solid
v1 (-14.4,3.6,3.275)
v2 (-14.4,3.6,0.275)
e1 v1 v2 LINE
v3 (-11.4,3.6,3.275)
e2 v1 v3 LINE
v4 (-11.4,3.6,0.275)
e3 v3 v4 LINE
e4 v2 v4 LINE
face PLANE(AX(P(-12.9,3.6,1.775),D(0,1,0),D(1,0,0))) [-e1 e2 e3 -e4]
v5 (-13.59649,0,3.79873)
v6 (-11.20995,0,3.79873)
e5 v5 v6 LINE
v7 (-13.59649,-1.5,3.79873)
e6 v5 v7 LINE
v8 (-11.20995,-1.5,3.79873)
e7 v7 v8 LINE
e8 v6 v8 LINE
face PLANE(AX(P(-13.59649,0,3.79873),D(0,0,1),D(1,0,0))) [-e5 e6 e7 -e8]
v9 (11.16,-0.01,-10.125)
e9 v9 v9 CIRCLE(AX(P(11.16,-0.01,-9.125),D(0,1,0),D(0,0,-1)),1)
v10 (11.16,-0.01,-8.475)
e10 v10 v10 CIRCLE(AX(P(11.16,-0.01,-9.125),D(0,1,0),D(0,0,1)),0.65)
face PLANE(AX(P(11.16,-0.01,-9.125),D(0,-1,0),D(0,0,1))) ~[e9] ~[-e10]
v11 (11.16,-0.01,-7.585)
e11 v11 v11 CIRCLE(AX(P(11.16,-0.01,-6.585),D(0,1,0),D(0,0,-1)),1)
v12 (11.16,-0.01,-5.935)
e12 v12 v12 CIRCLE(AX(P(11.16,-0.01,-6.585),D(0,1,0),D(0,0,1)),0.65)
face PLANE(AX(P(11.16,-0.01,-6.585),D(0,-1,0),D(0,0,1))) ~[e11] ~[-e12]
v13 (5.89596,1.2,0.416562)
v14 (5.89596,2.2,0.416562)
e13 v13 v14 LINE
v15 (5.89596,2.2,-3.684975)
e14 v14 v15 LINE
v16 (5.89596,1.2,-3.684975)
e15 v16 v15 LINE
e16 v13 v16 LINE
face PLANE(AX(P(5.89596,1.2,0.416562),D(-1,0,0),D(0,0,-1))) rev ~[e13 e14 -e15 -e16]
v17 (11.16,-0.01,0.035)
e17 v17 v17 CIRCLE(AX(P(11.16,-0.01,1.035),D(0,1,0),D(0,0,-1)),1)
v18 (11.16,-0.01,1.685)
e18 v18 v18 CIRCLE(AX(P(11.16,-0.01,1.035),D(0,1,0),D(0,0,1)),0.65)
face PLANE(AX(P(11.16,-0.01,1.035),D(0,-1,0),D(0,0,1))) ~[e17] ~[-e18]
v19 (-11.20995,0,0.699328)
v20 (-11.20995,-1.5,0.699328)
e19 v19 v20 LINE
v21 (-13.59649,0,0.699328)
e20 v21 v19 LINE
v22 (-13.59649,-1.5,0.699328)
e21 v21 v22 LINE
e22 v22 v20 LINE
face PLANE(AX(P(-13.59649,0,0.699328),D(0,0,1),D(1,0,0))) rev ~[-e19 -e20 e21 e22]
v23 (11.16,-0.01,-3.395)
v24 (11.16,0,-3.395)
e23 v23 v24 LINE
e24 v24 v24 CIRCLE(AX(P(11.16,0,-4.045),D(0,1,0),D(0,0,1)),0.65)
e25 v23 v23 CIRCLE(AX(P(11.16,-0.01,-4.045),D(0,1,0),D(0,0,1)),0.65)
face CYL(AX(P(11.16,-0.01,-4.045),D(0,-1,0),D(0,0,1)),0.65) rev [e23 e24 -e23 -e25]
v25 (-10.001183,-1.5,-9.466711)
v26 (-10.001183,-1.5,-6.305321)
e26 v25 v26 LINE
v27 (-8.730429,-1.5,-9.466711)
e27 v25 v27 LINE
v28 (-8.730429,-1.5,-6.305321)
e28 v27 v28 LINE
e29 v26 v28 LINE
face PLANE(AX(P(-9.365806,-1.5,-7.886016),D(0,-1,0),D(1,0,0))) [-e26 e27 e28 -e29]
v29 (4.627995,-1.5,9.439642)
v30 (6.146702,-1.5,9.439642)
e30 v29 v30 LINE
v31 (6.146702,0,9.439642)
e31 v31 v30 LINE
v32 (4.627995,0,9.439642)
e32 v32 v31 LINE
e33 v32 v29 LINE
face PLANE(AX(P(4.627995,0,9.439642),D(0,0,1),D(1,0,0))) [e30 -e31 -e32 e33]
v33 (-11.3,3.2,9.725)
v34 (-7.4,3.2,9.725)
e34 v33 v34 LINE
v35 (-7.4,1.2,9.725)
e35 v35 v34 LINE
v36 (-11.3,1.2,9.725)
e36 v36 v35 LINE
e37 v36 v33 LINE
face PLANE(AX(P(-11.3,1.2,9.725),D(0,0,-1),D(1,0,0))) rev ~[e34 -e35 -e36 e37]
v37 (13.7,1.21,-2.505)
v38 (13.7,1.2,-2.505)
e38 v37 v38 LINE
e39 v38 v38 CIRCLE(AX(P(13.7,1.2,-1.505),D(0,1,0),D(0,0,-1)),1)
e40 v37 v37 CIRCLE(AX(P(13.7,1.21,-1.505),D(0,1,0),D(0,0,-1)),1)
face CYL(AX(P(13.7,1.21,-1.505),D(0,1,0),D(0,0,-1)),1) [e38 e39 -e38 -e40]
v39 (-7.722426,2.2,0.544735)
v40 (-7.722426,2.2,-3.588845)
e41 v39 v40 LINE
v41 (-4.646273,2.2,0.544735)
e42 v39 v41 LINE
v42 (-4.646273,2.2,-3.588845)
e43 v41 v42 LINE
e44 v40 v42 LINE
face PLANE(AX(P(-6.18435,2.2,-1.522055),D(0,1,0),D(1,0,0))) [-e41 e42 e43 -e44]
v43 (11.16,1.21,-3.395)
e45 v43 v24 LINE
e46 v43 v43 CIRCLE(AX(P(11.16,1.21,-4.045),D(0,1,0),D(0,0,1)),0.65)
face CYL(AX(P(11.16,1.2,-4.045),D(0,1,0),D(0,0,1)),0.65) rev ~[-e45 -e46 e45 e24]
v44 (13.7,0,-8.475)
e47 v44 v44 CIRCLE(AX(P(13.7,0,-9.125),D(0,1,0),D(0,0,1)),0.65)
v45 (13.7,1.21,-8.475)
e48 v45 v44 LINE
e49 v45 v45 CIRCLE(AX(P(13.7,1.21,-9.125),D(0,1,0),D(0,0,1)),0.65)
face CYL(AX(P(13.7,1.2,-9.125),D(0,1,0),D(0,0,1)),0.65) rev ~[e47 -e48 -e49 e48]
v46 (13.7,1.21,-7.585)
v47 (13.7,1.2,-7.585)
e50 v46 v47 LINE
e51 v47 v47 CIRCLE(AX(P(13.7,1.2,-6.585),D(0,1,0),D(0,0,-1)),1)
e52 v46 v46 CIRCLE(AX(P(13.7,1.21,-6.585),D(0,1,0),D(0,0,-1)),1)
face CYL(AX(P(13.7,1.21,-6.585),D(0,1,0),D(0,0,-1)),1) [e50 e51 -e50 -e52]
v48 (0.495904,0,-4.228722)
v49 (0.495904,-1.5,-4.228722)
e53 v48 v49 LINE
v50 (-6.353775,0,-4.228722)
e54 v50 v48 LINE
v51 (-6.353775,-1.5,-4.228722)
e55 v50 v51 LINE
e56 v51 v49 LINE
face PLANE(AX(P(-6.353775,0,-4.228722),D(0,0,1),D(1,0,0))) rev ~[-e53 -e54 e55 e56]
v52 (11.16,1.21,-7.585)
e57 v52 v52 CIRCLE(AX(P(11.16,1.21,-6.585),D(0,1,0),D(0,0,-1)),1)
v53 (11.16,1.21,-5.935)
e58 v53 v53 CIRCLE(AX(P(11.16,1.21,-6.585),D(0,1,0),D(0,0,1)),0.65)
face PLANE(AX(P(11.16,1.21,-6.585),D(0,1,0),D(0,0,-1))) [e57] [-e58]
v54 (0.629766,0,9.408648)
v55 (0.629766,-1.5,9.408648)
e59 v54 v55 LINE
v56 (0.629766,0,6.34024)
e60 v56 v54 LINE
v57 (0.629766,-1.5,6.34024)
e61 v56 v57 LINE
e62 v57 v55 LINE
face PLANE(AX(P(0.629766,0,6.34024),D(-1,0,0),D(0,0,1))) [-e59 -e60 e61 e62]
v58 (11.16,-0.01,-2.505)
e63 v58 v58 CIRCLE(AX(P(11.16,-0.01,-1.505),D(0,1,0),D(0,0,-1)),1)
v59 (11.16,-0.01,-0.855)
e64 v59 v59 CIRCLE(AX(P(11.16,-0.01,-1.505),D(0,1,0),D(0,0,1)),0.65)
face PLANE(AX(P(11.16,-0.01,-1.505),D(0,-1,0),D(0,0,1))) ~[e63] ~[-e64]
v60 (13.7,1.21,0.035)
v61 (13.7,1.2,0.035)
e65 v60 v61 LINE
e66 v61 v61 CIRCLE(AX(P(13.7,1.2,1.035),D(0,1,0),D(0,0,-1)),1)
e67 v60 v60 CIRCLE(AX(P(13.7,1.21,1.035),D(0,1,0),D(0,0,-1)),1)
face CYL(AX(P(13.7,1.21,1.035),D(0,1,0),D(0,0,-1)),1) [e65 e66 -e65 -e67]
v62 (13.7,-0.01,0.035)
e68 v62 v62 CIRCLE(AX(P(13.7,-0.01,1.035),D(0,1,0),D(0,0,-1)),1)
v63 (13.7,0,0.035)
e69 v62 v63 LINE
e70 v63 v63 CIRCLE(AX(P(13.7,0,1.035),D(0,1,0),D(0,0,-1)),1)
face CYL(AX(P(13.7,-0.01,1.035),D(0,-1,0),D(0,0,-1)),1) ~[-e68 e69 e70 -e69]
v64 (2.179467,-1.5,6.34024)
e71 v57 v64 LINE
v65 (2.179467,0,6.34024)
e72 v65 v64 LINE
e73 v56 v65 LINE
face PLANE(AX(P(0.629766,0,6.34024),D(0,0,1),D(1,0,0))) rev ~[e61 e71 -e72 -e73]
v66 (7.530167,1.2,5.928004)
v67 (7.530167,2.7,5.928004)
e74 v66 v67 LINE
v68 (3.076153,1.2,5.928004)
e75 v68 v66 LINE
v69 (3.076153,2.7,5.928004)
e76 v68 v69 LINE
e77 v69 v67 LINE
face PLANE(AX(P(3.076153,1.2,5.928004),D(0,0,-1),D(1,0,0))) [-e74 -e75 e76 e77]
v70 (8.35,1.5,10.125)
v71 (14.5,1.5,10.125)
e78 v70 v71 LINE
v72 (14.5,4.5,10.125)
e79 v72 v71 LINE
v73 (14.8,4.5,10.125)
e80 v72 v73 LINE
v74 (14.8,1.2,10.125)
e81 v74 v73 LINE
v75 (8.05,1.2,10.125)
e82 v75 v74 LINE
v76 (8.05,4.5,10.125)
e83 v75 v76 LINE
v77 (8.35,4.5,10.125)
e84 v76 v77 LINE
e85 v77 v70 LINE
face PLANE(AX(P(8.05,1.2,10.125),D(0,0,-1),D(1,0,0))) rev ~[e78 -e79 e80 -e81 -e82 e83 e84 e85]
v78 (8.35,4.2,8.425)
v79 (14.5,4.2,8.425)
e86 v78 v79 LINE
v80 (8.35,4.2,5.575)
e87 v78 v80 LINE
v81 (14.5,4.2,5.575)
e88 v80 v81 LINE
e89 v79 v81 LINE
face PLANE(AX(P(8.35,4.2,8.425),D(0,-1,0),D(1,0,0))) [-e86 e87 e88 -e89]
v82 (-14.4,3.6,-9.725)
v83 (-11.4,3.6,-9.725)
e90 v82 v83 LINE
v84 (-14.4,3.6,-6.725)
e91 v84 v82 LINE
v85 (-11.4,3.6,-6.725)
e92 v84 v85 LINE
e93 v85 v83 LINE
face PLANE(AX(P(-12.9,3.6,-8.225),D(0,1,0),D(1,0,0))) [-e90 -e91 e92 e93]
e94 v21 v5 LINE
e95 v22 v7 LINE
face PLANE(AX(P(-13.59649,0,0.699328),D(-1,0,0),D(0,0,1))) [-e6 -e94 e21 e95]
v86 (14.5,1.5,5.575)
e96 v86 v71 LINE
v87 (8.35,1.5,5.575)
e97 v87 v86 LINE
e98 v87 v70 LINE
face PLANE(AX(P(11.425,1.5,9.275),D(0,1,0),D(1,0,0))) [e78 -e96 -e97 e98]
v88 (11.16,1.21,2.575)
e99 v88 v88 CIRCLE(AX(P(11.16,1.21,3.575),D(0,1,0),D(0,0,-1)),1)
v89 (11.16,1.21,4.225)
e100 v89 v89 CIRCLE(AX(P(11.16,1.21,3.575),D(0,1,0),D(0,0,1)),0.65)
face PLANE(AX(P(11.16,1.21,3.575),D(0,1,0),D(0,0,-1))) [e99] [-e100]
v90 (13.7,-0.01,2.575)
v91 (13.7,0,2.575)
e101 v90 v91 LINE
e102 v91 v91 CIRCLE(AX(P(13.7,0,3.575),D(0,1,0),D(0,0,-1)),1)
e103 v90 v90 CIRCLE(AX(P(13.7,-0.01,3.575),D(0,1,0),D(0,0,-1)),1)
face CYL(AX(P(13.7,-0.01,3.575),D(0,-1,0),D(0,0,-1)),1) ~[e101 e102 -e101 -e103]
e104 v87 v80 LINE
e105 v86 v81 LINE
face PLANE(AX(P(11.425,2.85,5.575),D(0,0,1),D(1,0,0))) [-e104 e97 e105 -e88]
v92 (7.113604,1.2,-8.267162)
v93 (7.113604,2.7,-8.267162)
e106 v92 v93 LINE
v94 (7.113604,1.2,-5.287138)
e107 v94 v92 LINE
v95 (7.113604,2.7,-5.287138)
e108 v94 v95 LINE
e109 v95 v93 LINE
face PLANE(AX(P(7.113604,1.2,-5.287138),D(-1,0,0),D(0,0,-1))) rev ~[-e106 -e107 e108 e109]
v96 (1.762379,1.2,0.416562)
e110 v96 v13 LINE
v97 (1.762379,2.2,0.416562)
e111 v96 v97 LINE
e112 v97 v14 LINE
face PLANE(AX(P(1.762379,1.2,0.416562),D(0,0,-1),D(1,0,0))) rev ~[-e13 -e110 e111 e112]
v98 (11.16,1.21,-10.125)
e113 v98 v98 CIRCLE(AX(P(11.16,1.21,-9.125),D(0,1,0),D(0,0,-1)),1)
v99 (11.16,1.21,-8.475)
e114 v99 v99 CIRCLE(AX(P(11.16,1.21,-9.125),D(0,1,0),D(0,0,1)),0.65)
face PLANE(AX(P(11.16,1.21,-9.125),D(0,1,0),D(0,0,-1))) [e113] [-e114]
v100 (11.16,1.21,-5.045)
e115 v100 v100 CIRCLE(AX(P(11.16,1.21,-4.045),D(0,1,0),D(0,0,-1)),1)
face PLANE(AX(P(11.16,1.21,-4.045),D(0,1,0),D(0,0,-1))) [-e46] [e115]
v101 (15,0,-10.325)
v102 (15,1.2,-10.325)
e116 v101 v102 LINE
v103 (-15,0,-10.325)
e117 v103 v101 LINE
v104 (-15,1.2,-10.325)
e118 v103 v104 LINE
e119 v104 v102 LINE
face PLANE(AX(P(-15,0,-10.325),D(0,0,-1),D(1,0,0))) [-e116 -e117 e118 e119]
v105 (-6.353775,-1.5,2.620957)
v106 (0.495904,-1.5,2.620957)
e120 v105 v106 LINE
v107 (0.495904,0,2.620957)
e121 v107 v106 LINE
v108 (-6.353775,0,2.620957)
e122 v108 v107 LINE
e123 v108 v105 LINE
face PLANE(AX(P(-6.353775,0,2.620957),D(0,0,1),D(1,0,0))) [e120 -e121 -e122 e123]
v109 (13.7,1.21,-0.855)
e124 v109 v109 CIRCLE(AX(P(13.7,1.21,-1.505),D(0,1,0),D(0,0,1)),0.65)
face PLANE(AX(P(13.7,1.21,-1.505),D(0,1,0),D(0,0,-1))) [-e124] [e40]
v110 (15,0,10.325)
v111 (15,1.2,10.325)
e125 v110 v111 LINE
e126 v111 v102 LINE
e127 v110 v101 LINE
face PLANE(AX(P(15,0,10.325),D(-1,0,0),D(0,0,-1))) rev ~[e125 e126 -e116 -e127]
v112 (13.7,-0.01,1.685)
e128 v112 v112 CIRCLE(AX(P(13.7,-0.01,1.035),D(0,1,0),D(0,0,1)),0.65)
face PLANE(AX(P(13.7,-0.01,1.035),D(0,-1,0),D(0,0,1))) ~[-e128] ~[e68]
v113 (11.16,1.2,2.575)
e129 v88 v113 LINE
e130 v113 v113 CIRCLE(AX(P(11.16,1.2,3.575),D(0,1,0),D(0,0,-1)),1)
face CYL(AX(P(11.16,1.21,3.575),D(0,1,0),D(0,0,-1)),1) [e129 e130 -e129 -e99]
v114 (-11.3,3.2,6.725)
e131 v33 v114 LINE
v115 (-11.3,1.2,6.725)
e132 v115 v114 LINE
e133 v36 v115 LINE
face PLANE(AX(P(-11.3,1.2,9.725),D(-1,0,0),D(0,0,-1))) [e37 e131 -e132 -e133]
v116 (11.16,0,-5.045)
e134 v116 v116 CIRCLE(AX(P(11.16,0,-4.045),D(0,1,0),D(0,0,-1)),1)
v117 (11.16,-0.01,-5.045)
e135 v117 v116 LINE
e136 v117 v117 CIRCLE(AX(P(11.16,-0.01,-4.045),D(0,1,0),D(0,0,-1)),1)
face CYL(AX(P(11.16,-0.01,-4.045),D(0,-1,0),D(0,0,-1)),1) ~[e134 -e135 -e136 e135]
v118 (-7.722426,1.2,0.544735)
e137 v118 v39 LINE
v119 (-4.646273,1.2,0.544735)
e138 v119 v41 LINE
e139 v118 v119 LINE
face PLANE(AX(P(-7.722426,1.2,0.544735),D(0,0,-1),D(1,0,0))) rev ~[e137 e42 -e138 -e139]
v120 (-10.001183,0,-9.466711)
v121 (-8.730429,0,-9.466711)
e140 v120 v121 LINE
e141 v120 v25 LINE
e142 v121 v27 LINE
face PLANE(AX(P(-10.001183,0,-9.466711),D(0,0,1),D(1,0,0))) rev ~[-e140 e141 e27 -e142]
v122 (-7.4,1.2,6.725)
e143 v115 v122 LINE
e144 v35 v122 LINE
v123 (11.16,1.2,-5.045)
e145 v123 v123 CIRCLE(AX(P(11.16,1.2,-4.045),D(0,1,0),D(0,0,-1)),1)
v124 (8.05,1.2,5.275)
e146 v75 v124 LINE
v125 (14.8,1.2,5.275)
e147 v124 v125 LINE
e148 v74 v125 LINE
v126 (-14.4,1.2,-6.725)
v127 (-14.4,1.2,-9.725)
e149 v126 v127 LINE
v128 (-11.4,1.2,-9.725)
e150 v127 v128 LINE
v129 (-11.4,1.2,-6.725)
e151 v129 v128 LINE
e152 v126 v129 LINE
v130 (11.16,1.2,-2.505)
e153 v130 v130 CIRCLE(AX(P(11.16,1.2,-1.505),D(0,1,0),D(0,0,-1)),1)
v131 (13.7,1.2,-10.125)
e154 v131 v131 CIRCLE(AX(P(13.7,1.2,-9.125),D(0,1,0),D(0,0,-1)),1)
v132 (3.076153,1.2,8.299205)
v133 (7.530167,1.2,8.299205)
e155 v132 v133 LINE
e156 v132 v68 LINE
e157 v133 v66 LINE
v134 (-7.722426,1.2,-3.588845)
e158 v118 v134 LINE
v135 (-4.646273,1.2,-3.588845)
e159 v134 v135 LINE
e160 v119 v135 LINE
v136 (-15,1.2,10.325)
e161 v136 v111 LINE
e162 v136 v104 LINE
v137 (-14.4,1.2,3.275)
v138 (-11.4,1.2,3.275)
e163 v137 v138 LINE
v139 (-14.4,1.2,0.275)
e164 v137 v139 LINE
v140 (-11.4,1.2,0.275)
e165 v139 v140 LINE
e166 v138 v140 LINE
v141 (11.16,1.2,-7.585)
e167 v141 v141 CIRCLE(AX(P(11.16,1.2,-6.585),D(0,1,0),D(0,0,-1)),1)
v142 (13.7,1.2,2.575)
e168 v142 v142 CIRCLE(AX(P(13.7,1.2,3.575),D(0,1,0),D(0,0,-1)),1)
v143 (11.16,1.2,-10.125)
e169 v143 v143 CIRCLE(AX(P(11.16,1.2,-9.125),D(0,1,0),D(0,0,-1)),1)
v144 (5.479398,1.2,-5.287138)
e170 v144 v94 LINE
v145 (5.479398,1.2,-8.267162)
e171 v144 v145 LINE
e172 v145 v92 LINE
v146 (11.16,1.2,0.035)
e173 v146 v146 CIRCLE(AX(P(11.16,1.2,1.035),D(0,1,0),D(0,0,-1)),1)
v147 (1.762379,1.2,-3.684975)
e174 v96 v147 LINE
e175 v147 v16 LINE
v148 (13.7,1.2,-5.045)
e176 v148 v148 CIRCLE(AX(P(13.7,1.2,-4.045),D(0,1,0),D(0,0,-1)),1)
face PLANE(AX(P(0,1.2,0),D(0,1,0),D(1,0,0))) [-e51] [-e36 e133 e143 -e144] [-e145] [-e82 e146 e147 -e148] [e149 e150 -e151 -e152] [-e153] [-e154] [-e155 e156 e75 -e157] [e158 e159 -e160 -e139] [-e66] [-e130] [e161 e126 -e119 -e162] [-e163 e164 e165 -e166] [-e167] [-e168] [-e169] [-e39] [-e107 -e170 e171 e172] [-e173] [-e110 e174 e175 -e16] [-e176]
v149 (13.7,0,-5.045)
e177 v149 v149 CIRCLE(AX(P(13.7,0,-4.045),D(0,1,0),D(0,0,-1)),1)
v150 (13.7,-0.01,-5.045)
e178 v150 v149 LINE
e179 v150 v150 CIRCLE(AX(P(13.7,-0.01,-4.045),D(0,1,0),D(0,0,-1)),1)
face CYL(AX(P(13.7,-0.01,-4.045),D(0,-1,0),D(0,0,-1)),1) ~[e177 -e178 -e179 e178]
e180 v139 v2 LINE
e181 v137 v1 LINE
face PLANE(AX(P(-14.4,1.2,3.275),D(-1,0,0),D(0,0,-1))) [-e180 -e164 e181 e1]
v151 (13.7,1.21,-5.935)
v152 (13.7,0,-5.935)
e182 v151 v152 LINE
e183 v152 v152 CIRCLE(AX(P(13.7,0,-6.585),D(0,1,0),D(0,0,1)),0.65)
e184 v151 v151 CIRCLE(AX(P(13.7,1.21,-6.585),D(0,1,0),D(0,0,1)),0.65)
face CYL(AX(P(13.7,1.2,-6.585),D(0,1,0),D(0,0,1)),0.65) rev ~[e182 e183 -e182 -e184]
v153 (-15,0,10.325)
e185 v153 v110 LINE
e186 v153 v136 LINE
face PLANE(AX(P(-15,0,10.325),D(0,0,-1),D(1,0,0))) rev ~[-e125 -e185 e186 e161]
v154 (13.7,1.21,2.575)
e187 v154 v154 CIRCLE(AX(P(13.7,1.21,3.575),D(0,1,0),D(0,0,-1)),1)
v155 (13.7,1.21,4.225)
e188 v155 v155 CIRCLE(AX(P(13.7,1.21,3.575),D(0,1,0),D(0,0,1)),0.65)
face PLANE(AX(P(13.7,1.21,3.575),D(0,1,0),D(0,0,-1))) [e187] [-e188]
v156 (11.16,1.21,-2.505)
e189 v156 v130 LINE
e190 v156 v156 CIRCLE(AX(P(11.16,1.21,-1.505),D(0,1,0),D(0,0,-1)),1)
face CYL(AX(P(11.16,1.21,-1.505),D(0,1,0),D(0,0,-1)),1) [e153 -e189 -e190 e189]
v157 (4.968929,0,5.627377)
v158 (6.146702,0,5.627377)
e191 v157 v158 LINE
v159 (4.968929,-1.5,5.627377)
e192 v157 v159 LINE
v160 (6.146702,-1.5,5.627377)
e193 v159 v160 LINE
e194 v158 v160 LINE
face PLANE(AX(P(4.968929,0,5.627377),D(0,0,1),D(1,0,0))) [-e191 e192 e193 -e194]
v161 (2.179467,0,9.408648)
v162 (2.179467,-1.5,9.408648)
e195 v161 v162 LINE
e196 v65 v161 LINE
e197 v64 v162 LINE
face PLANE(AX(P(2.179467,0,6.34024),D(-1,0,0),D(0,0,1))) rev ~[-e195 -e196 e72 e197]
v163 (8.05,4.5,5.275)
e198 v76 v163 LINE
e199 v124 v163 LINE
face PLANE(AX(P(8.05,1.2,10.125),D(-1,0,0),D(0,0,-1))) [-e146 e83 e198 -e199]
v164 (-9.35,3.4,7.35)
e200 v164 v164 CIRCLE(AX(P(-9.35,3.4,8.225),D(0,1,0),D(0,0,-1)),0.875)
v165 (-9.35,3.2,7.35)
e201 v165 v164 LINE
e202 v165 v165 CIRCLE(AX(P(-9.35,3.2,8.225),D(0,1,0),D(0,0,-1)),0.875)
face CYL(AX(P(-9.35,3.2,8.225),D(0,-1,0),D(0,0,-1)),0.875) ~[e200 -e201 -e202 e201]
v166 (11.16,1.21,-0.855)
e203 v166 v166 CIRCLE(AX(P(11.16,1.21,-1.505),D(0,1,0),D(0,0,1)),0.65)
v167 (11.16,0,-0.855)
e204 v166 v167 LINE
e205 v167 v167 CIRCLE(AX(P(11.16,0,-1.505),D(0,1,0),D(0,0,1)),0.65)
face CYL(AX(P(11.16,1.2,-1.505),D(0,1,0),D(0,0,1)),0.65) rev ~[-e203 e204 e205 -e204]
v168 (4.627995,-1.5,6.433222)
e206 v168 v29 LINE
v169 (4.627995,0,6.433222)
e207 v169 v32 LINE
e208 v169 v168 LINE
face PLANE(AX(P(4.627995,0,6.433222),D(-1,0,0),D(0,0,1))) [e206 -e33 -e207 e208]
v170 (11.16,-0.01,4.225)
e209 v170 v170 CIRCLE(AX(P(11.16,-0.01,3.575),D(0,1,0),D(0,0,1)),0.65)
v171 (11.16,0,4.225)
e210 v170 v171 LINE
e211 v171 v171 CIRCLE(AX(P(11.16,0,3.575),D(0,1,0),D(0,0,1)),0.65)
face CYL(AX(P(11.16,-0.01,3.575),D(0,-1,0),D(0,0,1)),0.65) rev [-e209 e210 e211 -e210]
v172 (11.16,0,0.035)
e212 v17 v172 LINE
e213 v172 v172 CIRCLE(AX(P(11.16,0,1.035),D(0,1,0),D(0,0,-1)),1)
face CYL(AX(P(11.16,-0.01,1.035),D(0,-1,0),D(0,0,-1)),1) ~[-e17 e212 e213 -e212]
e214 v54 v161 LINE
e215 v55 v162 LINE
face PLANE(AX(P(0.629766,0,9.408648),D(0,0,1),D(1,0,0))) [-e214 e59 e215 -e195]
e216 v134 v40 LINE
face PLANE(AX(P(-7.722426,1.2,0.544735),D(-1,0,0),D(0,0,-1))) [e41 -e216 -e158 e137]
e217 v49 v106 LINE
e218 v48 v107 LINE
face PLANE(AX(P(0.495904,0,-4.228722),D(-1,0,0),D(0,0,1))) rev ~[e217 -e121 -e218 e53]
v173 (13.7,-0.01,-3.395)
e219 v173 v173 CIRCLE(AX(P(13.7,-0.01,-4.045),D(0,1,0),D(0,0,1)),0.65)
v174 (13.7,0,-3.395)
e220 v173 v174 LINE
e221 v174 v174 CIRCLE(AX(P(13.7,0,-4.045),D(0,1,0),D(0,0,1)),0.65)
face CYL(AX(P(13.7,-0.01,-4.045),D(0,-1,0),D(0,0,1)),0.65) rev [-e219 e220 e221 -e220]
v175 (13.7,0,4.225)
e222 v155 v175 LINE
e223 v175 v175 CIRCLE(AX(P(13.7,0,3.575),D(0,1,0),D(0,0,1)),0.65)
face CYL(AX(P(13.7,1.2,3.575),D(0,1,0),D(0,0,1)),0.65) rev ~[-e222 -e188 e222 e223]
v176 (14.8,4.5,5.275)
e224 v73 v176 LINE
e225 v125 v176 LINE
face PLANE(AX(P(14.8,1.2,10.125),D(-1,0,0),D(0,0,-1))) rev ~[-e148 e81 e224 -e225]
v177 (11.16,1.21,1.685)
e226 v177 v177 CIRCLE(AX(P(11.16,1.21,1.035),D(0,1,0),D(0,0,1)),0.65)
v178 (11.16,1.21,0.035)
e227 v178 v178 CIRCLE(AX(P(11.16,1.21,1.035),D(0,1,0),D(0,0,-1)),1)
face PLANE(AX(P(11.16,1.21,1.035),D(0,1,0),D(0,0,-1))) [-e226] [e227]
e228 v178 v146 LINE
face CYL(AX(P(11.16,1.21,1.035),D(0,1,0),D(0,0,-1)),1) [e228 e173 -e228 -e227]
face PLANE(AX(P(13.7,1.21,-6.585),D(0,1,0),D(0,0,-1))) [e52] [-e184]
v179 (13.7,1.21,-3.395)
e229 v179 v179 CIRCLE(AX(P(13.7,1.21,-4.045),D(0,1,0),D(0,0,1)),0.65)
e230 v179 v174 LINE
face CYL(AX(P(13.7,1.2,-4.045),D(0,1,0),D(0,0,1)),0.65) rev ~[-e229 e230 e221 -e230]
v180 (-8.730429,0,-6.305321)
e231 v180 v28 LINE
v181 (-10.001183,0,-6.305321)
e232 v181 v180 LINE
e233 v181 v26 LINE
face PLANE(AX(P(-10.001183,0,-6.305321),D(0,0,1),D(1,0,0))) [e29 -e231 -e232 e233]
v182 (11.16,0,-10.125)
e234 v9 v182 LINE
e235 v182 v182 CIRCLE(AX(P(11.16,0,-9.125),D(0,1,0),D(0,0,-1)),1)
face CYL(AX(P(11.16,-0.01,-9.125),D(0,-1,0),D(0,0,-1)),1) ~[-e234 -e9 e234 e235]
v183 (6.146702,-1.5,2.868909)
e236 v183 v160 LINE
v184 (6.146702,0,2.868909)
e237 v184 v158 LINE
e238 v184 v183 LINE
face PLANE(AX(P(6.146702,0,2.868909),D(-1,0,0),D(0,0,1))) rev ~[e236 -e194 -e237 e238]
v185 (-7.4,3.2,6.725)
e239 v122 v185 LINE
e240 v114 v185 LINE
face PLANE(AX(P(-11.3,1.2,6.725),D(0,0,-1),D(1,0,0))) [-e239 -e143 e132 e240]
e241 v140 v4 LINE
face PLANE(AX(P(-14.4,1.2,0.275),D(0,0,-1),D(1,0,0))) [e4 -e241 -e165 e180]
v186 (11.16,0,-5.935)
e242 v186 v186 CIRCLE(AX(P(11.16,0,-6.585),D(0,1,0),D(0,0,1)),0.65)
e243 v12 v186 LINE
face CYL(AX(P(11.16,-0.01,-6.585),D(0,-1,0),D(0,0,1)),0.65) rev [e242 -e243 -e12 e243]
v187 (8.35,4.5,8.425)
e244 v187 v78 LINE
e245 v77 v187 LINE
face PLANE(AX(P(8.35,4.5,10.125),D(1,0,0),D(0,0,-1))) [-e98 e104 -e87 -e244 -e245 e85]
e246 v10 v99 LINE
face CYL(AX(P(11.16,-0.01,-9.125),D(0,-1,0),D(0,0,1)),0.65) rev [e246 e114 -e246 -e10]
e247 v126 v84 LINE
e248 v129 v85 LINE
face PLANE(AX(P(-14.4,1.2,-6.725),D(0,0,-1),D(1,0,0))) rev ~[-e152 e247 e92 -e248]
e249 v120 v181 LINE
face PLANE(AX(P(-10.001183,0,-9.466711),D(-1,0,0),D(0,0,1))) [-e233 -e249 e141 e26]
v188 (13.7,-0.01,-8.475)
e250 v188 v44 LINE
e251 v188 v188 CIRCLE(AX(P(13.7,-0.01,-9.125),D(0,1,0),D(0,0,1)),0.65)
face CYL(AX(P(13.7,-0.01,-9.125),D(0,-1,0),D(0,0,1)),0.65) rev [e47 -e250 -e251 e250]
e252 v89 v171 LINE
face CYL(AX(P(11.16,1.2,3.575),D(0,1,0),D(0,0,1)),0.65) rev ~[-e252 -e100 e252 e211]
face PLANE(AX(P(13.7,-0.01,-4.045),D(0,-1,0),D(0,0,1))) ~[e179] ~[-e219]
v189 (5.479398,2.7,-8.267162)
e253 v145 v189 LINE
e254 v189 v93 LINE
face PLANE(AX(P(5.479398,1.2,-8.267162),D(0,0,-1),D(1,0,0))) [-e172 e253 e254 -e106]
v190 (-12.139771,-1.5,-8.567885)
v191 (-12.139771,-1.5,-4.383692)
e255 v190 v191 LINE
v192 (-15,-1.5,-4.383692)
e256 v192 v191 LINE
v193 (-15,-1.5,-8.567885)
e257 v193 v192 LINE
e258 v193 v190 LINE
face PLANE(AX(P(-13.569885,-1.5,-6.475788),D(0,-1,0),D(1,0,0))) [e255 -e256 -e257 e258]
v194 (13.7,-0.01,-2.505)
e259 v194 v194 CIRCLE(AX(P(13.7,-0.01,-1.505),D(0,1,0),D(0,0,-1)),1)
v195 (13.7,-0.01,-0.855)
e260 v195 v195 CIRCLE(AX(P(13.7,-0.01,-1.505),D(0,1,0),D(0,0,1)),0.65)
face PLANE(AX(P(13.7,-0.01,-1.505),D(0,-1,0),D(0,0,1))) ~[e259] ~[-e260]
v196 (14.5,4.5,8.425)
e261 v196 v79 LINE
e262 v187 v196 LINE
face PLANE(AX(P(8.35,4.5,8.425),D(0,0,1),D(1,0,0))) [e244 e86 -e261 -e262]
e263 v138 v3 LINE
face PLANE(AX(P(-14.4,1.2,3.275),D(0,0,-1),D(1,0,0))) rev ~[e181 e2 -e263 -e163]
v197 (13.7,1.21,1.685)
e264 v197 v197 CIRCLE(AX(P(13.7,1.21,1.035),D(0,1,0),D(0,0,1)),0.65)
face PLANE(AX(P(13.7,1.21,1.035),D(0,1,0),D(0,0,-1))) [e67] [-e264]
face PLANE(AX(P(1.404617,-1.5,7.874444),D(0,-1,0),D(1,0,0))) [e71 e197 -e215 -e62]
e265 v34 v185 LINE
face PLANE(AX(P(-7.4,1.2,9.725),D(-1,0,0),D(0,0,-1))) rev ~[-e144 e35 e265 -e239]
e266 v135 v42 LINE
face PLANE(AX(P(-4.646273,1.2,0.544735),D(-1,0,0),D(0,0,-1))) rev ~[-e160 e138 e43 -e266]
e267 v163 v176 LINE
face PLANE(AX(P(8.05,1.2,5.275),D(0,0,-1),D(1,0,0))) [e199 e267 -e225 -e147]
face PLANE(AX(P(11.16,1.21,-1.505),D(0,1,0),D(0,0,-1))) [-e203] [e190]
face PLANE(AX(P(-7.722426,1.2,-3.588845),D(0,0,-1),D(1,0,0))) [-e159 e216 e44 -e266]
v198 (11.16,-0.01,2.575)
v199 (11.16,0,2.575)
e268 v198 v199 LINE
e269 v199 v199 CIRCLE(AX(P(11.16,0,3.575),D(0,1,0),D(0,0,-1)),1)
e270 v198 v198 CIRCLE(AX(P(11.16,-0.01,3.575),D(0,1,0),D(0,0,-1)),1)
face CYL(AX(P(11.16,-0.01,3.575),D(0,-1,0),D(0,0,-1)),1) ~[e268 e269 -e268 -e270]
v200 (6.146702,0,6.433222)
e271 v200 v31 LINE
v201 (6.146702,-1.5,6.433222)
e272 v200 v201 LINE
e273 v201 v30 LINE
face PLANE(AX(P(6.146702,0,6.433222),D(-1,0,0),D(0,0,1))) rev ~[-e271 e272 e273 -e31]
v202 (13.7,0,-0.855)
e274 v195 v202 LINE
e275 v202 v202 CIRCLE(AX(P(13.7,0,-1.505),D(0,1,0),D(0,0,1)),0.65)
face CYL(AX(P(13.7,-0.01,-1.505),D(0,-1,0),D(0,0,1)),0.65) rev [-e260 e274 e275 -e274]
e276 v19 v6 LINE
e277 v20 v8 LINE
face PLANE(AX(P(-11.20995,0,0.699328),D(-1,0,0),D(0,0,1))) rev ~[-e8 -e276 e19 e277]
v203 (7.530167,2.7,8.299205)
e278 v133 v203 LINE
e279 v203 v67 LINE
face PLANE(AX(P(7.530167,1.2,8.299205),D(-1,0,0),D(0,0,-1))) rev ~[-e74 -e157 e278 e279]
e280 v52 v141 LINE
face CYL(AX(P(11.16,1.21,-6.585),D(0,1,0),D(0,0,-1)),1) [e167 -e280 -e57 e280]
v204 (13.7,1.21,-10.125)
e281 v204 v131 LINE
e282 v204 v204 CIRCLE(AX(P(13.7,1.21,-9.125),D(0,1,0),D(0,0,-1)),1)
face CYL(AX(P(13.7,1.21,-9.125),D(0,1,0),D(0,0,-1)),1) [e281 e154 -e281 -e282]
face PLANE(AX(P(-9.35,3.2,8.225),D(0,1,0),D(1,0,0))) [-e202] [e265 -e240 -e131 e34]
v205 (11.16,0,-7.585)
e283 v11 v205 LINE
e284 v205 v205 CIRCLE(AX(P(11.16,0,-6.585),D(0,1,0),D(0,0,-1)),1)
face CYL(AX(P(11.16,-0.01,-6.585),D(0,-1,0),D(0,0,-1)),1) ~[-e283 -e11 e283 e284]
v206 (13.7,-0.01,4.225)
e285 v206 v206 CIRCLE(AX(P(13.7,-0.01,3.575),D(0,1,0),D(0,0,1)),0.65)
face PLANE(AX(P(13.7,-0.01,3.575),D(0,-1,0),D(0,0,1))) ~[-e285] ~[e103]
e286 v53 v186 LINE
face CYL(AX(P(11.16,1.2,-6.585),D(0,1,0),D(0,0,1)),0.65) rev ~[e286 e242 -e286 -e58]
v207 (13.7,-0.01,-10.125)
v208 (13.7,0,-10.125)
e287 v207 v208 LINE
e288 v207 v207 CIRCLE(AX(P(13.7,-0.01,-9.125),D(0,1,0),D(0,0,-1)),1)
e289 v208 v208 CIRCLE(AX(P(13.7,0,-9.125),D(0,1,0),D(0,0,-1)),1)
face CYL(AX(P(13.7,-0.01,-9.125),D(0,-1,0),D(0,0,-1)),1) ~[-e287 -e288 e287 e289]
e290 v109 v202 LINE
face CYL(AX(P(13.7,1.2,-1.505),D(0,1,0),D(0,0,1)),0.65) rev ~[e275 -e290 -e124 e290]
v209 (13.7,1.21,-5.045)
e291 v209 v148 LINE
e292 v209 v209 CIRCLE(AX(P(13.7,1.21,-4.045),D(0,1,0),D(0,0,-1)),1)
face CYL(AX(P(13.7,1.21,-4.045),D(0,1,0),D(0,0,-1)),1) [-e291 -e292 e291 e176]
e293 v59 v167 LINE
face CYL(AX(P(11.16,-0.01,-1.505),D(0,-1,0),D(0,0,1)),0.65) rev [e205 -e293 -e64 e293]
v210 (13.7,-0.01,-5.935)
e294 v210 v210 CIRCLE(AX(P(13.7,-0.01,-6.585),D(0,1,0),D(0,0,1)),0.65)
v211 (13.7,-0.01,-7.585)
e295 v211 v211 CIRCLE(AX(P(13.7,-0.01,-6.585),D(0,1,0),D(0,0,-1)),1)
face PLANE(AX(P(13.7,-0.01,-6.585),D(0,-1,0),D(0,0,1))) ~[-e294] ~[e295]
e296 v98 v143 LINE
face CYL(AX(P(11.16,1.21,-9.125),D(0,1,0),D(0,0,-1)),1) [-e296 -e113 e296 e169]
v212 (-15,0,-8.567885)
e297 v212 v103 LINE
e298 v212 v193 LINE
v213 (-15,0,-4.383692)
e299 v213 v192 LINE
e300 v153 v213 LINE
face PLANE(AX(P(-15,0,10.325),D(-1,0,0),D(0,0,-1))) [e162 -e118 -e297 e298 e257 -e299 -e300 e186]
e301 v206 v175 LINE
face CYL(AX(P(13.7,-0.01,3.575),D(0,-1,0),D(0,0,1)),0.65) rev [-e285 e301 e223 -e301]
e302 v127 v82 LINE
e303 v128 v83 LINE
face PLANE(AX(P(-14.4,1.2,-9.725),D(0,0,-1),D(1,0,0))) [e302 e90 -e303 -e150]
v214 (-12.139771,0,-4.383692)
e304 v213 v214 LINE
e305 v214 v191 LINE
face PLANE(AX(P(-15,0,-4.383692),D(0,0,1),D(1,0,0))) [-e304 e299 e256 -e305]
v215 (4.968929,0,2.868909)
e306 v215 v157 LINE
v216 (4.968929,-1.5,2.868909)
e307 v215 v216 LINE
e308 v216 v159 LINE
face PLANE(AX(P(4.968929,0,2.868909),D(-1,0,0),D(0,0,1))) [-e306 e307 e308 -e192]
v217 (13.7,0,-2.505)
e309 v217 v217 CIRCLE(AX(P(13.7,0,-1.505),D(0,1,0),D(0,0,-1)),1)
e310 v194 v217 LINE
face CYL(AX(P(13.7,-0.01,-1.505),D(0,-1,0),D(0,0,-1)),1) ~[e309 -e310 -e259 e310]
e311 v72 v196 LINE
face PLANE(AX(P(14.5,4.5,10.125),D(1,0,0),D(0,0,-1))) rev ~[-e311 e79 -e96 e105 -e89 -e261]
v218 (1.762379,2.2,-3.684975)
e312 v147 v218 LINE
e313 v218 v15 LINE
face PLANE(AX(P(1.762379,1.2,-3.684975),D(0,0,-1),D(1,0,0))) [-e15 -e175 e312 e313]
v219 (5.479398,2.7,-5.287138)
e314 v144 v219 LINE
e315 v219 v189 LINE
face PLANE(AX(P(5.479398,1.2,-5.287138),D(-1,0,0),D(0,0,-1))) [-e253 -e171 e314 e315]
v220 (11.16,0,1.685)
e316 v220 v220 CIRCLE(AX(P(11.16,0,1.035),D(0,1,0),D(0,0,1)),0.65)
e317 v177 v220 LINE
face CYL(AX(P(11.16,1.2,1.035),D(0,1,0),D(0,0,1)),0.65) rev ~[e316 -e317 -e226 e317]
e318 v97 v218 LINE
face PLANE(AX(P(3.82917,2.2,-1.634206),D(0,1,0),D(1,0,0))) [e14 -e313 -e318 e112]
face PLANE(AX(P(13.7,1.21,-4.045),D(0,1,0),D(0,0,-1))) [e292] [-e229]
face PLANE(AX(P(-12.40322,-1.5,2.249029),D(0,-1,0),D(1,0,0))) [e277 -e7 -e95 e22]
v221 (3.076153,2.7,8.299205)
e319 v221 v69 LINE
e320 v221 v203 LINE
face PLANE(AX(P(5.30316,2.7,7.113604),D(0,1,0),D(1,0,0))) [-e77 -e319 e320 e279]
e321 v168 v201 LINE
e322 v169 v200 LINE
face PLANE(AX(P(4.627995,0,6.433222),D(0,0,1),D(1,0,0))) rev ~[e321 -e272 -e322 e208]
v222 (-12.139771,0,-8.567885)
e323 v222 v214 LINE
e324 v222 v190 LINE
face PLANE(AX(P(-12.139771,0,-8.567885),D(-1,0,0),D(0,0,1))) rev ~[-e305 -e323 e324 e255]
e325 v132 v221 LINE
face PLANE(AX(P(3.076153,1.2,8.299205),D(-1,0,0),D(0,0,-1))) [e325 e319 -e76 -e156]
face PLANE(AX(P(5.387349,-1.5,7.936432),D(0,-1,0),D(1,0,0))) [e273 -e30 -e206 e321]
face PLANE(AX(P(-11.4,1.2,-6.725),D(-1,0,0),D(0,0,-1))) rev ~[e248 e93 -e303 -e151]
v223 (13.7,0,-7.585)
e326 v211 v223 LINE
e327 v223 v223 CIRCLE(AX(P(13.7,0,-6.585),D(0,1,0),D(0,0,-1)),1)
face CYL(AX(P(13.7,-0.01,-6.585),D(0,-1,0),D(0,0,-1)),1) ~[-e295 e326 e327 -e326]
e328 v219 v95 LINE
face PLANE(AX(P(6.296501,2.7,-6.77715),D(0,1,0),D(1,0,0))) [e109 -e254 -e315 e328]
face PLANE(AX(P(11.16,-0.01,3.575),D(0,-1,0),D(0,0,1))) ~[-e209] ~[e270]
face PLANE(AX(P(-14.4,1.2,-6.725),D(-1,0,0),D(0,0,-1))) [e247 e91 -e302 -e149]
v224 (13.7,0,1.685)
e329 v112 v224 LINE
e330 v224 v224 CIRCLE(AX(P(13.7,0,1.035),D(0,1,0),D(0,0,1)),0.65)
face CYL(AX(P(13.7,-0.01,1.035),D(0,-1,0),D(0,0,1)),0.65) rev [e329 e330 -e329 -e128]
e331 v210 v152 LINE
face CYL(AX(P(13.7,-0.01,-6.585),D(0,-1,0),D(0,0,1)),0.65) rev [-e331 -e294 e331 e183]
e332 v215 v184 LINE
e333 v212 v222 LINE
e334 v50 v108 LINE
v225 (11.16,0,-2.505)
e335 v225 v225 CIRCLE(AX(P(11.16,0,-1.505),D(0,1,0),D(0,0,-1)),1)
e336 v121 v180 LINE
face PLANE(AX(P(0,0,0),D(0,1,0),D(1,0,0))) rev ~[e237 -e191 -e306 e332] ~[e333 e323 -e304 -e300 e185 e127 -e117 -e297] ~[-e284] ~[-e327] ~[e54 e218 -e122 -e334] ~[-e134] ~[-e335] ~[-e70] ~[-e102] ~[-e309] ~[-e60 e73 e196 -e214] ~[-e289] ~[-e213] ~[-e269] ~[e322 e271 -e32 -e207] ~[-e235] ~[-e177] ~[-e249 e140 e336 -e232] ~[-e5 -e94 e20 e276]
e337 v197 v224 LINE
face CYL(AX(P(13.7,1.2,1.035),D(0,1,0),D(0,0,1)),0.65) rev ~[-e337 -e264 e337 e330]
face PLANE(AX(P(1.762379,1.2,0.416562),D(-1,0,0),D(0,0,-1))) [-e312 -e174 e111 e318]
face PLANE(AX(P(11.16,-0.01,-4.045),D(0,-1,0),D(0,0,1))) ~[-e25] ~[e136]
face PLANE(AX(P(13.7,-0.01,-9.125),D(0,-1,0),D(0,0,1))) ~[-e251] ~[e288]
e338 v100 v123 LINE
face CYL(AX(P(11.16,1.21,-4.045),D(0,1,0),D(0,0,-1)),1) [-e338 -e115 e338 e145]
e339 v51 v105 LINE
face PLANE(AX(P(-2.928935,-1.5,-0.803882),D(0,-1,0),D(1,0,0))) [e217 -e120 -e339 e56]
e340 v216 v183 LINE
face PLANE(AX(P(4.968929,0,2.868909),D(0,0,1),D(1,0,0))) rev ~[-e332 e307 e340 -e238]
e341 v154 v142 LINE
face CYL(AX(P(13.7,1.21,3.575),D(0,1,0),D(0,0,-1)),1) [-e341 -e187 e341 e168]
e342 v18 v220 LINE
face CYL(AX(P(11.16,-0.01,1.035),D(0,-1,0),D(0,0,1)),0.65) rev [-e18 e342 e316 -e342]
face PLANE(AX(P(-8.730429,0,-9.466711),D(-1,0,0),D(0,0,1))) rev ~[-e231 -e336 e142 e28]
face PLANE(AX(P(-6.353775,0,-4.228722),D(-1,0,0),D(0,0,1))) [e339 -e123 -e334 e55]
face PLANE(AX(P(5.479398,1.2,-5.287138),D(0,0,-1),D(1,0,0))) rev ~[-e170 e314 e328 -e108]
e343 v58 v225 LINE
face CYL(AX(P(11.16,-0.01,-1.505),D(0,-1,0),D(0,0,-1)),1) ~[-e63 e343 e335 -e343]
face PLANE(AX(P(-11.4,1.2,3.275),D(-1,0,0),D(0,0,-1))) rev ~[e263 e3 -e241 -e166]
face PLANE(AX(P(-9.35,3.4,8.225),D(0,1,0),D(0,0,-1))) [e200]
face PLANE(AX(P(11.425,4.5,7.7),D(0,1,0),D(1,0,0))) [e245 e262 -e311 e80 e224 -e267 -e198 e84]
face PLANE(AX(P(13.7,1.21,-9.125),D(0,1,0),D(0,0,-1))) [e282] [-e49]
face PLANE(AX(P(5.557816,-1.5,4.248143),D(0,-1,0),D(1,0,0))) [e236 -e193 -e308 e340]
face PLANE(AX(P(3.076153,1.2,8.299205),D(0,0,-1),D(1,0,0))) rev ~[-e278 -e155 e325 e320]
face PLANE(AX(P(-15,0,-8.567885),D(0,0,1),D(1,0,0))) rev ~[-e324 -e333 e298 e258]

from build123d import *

# Parameters (mm, degrees)
SKETCH1_W           = 30
SKETCH1_H           = 20.65
BOSS_EXTRUDE1_DEPTH = 1.2
CUT_EXTRUDE1_REACH  = 20.25
SKETCH2_R           = 0.65
SKETCH3_W           = 6.75
SKETCH3_H           = 4.85
BOSS_EXTRUDE2_DEPTH = 3.3
SKETCH4_W           = 3
SKETCH4_H           = 3
BOSS_EXTRUDE3_DEPTH = 2.4
SKETCH5_W           = 3.9
SKETCH5_H           = 3
BOSS_EXTRUDE4_DEPTH = 2
SKETCH6_R           = 0.875
BOSS_EXTRUDE5_DEPTH = 0.2
SKETCH7_W           = 6.15
SKETCH7_H           = 1.7
CUT_EXTRUDE2_DEPTH  = 3
SKETCH8_W           = 6.15
SKETCH8_H           = 2.7
CUT_EXTRUDE3_DEPTH  = 2.85
SKETCH9_W           = 4.13358082
SKETCH9_H           = 4.101537558
SKETCH9_W_2         = 3.076153169
SKETCH9_H_2         = 4.13358082
BOSS_EXTRUDE6_DEPTH = 1
SKETCH10_W          = 1.634206371
SKETCH10_H          = 2.980023382
SKETCH10_W_2        = 4.454013442
SKETCH10_H_2        = 2.371201401
BOSS_EXTRUDE7_DEPTH = 1.5
SKETCH11_W          = 6.849678862
SKETCH11_H          = 6.849678863
SKETCH11_W_2        = 1.518707079
SKETCH11_H_2        = 3.006420134
SKETCH11_W_3        = 1.5497011
SKETCH11_H_3        = 3.068408178
SKETCH11_W_4        = 1.177772837
SKETCH11_H_4        = 2.758467958
SKETCH11_W_5        = 2.86022906
SKETCH11_H_5        = 4.18419297
SKETCH11_W_6        = 2.386539694
SKETCH11_H_6        = 3.0994022
SKETCH11_W_7        = 1.270754903
SKETCH11_H_7        = 3.161390244
BOSS_EXTRUDE8_DEPTH = 1.5
BOSS_EXTRUDE9_START = 0.01
SKETCH12_R          = 1
SKETCH12_R_2        = 0.65
BOSS_EXTRUDE9_DEPTH = 0.01


with BuildPart() as part:
    # Sketch1 → Boss-Extrude1 (new body)
    with BuildSketch(Plane(origin=(0, 0, 0), x_dir=(1, 0, 0), z_dir=(0, 1, 0))):
        Rectangle(SKETCH1_W, SKETCH1_H)
    extrude(amount=BOSS_EXTRUDE1_DEPTH)

    # Sketch2 → Cut-Extrude1 (cut, up to next)
    with BuildSketch(Plane(origin=(0, 1.2, 0), x_dir=(1, 0, 0), z_dir=(0, 1, 0)), mode=Mode.PRIVATE) as cut_extrude1_sk1:
        with Locations(Location((13.7, 9.125, 0), (0, 0, 270))):
            Circle(SKETCH2_R)
    cut_extrude1_tool1 = extrude(cut_extrude1_sk1.sketch, amount=-CUT_EXTRUDE1_REACH, mode=Mode.PRIVATE) & part.part
    # Sketch2 → Cut-Extrude1 (cut, up to next)
    with BuildSketch(Plane(origin=(0, 1.2, 0), x_dir=(1, 0, 0), z_dir=(0, 1, 0)), mode=Mode.PRIVATE) as cut_extrude1_sk2:
        with Locations(Location((11.16, 9.125, 0), (0, 0, 270))):
            Circle(SKETCH2_R)
    cut_extrude1_tool2 = extrude(cut_extrude1_sk2.sketch, amount=-CUT_EXTRUDE1_REACH, mode=Mode.PRIVATE) & part.part
    # Sketch2 → Cut-Extrude1 (cut, up to next)
    with BuildSketch(Plane(origin=(0, 1.2, 0), x_dir=(1, 0, 0), z_dir=(0, 1, 0)), mode=Mode.PRIVATE) as cut_extrude1_sk3:
        with Locations(Location((11.16, 6.585, 0), (0, 0, 270))):
            Circle(SKETCH2_R)
    cut_extrude1_tool3 = extrude(cut_extrude1_sk3.sketch, amount=-CUT_EXTRUDE1_REACH, mode=Mode.PRIVATE) & part.part
    # Sketch2 → Cut-Extrude1 (cut, up to next)
    with BuildSketch(Plane(origin=(0, 1.2, 0), x_dir=(1, 0, 0), z_dir=(0, 1, 0)), mode=Mode.PRIVATE) as cut_extrude1_sk4:
        with Locations(Location((11.16, 4.045, 0), (0, 0, 270))):
            Circle(SKETCH2_R)
    cut_extrude1_tool4 = extrude(cut_extrude1_sk4.sketch, amount=-CUT_EXTRUDE1_REACH, mode=Mode.PRIVATE) & part.part
    # Sketch2 → Cut-Extrude1 (cut, up to next)
    with BuildSketch(Plane(origin=(0, 1.2, 0), x_dir=(1, 0, 0), z_dir=(0, 1, 0)), mode=Mode.PRIVATE) as cut_extrude1_sk5:
        with Locations(Location((11.16, 1.505, 0), (0, 0, 270))):
            Circle(SKETCH2_R)
    cut_extrude1_tool5 = extrude(cut_extrude1_sk5.sketch, amount=-CUT_EXTRUDE1_REACH, mode=Mode.PRIVATE) & part.part
    # Sketch2 → Cut-Extrude1 (cut, up to next)
    with BuildSketch(Plane(origin=(0, 1.2, 0), x_dir=(1, 0, 0), z_dir=(0, 1, 0)), mode=Mode.PRIVATE) as cut_extrude1_sk6:
        with Locations(Location((11.16, -1.035, 0), (0, 0, 270))):
            Circle(SKETCH2_R)
    cut_extrude1_tool6 = extrude(cut_extrude1_sk6.sketch, amount=-CUT_EXTRUDE1_REACH, mode=Mode.PRIVATE) & part.part
    # Sketch2 → Cut-Extrude1 (cut, up to next)
    with BuildSketch(Plane(origin=(0, 1.2, 0), x_dir=(1, 0, 0), z_dir=(0, 1, 0)), mode=Mode.PRIVATE) as cut_extrude1_sk7:
        with Locations(Location((11.16, -3.575, 0), (0, 0, 270))):
            Circle(SKETCH2_R)
    cut_extrude1_tool7 = extrude(cut_extrude1_sk7.sketch, amount=-CUT_EXTRUDE1_REACH, mode=Mode.PRIVATE) & part.part
    # Sketch2 → Cut-Extrude1 (cut, up to next)
    with BuildSketch(Plane(origin=(0, 1.2, 0), x_dir=(1, 0, 0), z_dir=(0, 1, 0)), mode=Mode.PRIVATE) as cut_extrude1_sk8:
        with Locations(Location((13.7, 6.585, 0), (0, 0, 270))):
            Circle(SKETCH2_R)
    cut_extrude1_tool8 = extrude(cut_extrude1_sk8.sketch, amount=-CUT_EXTRUDE1_REACH, mode=Mode.PRIVATE) & part.part
    # Sketch2 → Cut-Extrude1 (cut, up to next)
    with BuildSketch(Plane(origin=(0, 1.2, 0), x_dir=(1, 0, 0), z_dir=(0, 1, 0)), mode=Mode.PRIVATE) as cut_extrude1_sk9:
        with Locations(Location((13.7, 4.045, 0), (0, 0, 270))):
            Circle(SKETCH2_R)
    cut_extrude1_tool9 = extrude(cut_extrude1_sk9.sketch, amount=-CUT_EXTRUDE1_REACH, mode=Mode.PRIVATE) & part.part
    # Sketch2 → Cut-Extrude1 (cut, up to next)
    with BuildSketch(Plane(origin=(0, 1.2, 0), x_dir=(1, 0, 0), z_dir=(0, 1, 0)), mode=Mode.PRIVATE) as cut_extrude1_sk10:
        with Locations(Location((13.7, 1.505, 0), (0, 0, 270))):
            Circle(SKETCH2_R)
    cut_extrude1_tool10 = extrude(cut_extrude1_sk10.sketch, amount=-CUT_EXTRUDE1_REACH, mode=Mode.PRIVATE) & part.part
    # Sketch2 → Cut-Extrude1 (cut, up to next)
    with BuildSketch(Plane(origin=(0, 1.2, 0), x_dir=(1, 0, 0), z_dir=(0, 1, 0)), mode=Mode.PRIVATE) as cut_extrude1_sk11:
        with Locations(Location((13.7, -1.035, 0), (0, 0, 270))):
            Circle(SKETCH2_R)
    cut_extrude1_tool11 = extrude(cut_extrude1_sk11.sketch, amount=-CUT_EXTRUDE1_REACH, mode=Mode.PRIVATE) & part.part
    # Sketch2 → Cut-Extrude1 (cut, up to next)
    with BuildSketch(Plane(origin=(0, 1.2, 0), x_dir=(1, 0, 0), z_dir=(0, 1, 0)), mode=Mode.PRIVATE) as cut_extrude1_sk12:
        with Locations(Location((13.7, -3.575, 0), (0, 0, 270))):
            Circle(SKETCH2_R)
    cut_extrude1_tool12 = extrude(cut_extrude1_sk12.sketch, amount=-CUT_EXTRUDE1_REACH, mode=Mode.PRIVATE) & part.part
    add(cut_extrude1_tool1.solids().sort_by_distance((13.7, 1.2, -9.125))[0], mode=Mode.SUBTRACT)
    add(cut_extrude1_tool2.solids().sort_by_distance((11.16, 1.2, -9.125))[0], mode=Mode.SUBTRACT)
    add(cut_extrude1_tool3.solids().sort_by_distance((11.16, 1.2, -6.585))[0], mode=Mode.SUBTRACT)
    add(cut_extrude1_tool4.solids().sort_by_distance((11.16, 1.2, -4.045))[0], mode=Mode.SUBTRACT)
    add(cut_extrude1_tool5.solids().sort_by_distance((11.16, 1.2, -1.505))[0], mode=Mode.SUBTRACT)
    add(cut_extrude1_tool6.solids().sort_by_distance((11.16, 1.2, 1.035))[0], mode=Mode.SUBTRACT)
    add(cut_extrude1_tool7.solids().sort_by_distance((11.16, 1.2, 3.575))[0], mode=Mode.SUBTRACT)
    add(cut_extrude1_tool8.solids().sort_by_distance((13.7, 1.2, -6.585))[0], mode=Mode.SUBTRACT)
    add(cut_extrude1_tool9.solids().sort_by_distance((13.7, 1.2, -4.045))[0], mode=Mode.SUBTRACT)
    add(cut_extrude1_tool10.solids().sort_by_distance((13.7, 1.2, -1.505))[0], mode=Mode.SUBTRACT)
    add(cut_extrude1_tool11.solids().sort_by_distance((13.7, 1.2, 1.035))[0], mode=Mode.SUBTRACT)
    add(cut_extrude1_tool12.solids().sort_by_distance((13.7, 1.2, 3.575))[0], mode=Mode.SUBTRACT)

    # Sketch3 → Boss-Extrude2 (add)
    with BuildSketch(Plane(origin=(0, 1.2, 0), x_dir=(1, 0, 0), z_dir=(0, 1, 0))):
        with Locations((11.425, -7.7)):
            Rectangle(SKETCH3_W, SKETCH3_H)
    extrude(amount=BOSS_EXTRUDE2_DEPTH)

    # Sketch4 → Boss-Extrude3 (add)
    with BuildSketch(Plane(origin=(0, 1.2, 0), x_dir=(1, 0, 0), z_dir=(0, 1, 0))):
        with Locations((-12.9, 8.225)):
            Rectangle(SKETCH4_W, SKETCH4_H)
        with Locations((-12.9, -1.775)):
            Rectangle(SKETCH4_W, SKETCH4_H)
    extrude(amount=BOSS_EXTRUDE3_DEPTH)

    # Sketch5 → Boss-Extrude4 (add)
    with BuildSketch(Plane(origin=(0, 1.2, 0), x_dir=(1, 0, 0), z_dir=(0, 1, 0))):
        with Locations((-9.35, -8.225)):
            Rectangle(SKETCH5_W, SKETCH5_H)
    extrude(amount=BOSS_EXTRUDE4_DEPTH)

    # Sketch6 → Boss-Extrude5 (add)
    with BuildSketch(Plane(origin=(0, 3.2, 0), x_dir=(1, 0, 0), z_dir=(0, 1, 0))):
        with Locations(Location((-9.35, -8.225, 0), (0, 0, 90))):
            Circle(SKETCH6_R)
    extrude(amount=BOSS_EXTRUDE5_DEPTH)

    # Sketch7 → Cut-Extrude2 (cut)
    with BuildSketch(Plane(origin=(0, 4.5, 0), x_dir=(1, 0, 0), z_dir=(0, 1, 0))):
        with Locations((11.425, -9.275)):
            Rectangle(SKETCH7_W, SKETCH7_H)
    extrude(amount=-CUT_EXTRUDE2_DEPTH, mode=Mode.SUBTRACT)

    # Sketch8 → Cut-Extrude3 (cut)
    with BuildSketch(Plane.XY.offset(8.425)):
        with Locations((11.425, 2.85)):
            Rectangle(SKETCH8_W, SKETCH8_H)
    extrude(amount=-CUT_EXTRUDE3_DEPTH, mode=Mode.SUBTRACT)

    # Sketch9 → Boss-Extrude6 (add)
    with BuildSketch(Plane(origin=(0, 1.2, 0), x_dir=(1, 0, 0), z_dir=(0, 1, 0))):
        with Locations((3.82916983, 1.634206371)):
            Rectangle(SKETCH9_W, SKETCH9_H)
        with Locations((-6.1843496, 1.522054953)):
            Rectangle(SKETCH9_W_2, SKETCH9_H_2)
    extrude(amount=BOSS_EXTRUDE6_DEPTH)

    # Sketch10 → Boss-Extrude7 (add)
    with BuildSketch(Plane(origin=(0, 1.2, 0), x_dir=(1, 0, 0), z_dir=(0, 1, 0))):
        with Locations((6.296501018, 6.77714995)):
            Rectangle(SKETCH10_W, SKETCH10_H)
        with Locations((5.30315989, -7.113604202)):
            Rectangle(SKETCH10_W_2, SKETCH10_H_2)
    extrude(amount=BOSS_EXTRUDE7_DEPTH)

    # Sketch11 → Boss-Extrude8 (add)
    with BuildSketch(Plane.XZ):
        with Locations((-2.928935079, -0.803882292)):
            Rectangle(SKETCH11_W, SKETCH11_H)
        with Locations((5.387348503, 7.936431913)):
            Rectangle(SKETCH11_W_2, SKETCH11_H_2)
        with Locations((1.404616675, 7.874443869)):
            Rectangle(SKETCH11_W_3, SKETCH11_H_3)
        with Locations((5.557815623, 4.248143295)):
            Rectangle(SKETCH11_W_4, SKETCH11_H_4)
        with Locations((-13.56988547, -6.475788318)):
            Rectangle(SKETCH11_W_5, SKETCH11_H_5)
        with Locations((-12.403220127, 2.249028876)):
            Rectangle(SKETCH11_W_6, SKETCH11_H_6)
        with Locations((-9.365805971, -7.886016319)):
            Rectangle(SKETCH11_W_7, SKETCH11_H_7)
    extrude(amount=BOSS_EXTRUDE8_DEPTH)

    # Sketch12 → Boss-Extrude9 (add)
    # profile 1 of 12: a face of its own
    with BuildSketch(Plane(origin=(0, 1.2, 0), x_dir=(1, 0, 0), z_dir=(0, 1, 0)).offset(BOSS_EXTRUDE9_START)):
        with Locations(Location((11.16, 9.125, 0), (0, 0, 90))):
            Circle(SKETCH12_R)
        with Locations(Location((11.16, 9.125, 0), (0, 0, 270))):
            Circle(SKETCH12_R_2, mode=Mode.SUBTRACT)
    # profile 2 of 12: a face of its own
    with BuildSketch(Plane(origin=(0, 1.2, 0), x_dir=(1, 0, 0), z_dir=(0, 1, 0)).offset(BOSS_EXTRUDE9_START)):
        with Locations(Location((13.7, 9.125, 0), (0, 0, 90))):
            Circle(SKETCH12_R)
        with Locations(Location((13.7, 9.125, 0), (0, 0, 270))):
            Circle(SKETCH12_R_2, mode=Mode.SUBTRACT)
    # profile 3 of 12: a face of its own
    with BuildSketch(Plane(origin=(0, 1.2, 0), x_dir=(1, 0, 0), z_dir=(0, 1, 0)).offset(BOSS_EXTRUDE9_START)):
        with Locations(Location((13.7, 6.585, 0), (0, 0, 90))):
            Circle(SKETCH12_R)
        with Locations(Location((13.7, 6.585, 0), (0, 0, 270))):
            Circle(SKETCH12_R_2, mode=Mode.SUBTRACT)
    # profile 4 of 12: a face of its own
    with BuildSketch(Plane(origin=(0, 1.2, 0), x_dir=(1, 0, 0), z_dir=(0, 1, 0)).offset(BOSS_EXTRUDE9_START)):
        with Locations(Location((11.16, 6.585, 0), (0, 0, 90))):
            Circle(SKETCH12_R)
        with Locations(Location((11.16, 6.585, 0), (0, 0, 270))):
            Circle(SKETCH12_R_2, mode=Mode.SUBTRACT)
    # profile 5 of 12: a face of its own
    with BuildSketch(Plane(origin=(0, 1.2, 0), x_dir=(1, 0, 0), z_dir=(0, 1, 0)).offset(BOSS_EXTRUDE9_START)):
        with Locations(Location((11.16, 4.045, 0), (0, 0, 90))):
            Circle(SKETCH12_R)
        with Locations(Location((11.16, 4.045, 0), (0, 0, 270))):
            Circle(SKETCH12_R_2, mode=Mode.SUBTRACT)
    # profile 6 of 12: a face of its own
    with BuildSketch(Plane(origin=(0, 1.2, 0), x_dir=(1, 0, 0), z_dir=(0, 1, 0)).offset(BOSS_EXTRUDE9_START)):
        with Locations(Location((13.7, 4.045, 0), (0, 0, 90))):
            Circle(SKETCH12_R)
        with Locations(Location((13.7, 4.045, 0), (0, 0, 270))):
            Circle(SKETCH12_R_2, mode=Mode.SUBTRACT)
    # profile 7 of 12: a face of its own
    with BuildSketch(Plane(origin=(0, 1.2, 0), x_dir=(1, 0, 0), z_dir=(0, 1, 0)).offset(BOSS_EXTRUDE9_START)):
        with Locations(Location((13.7, 1.505, 0), (0, 0, 90))):
            Circle(SKETCH12_R)
        with Locations(Location((13.7, 1.505, 0), (0, 0, 270))):
            Circle(SKETCH12_R_2, mode=Mode.SUBTRACT)
    # profile 8 of 12: a face of its own
    with BuildSketch(Plane(origin=(0, 1.2, 0), x_dir=(1, 0, 0), z_dir=(0, 1, 0)).offset(BOSS_EXTRUDE9_START)):
        with Locations(Location((11.16, 1.505, 0), (0, 0, 90))):
            Circle(SKETCH12_R)
        with Locations(Location((11.16, 1.505, 0), (0, 0, 270))):
            Circle(SKETCH12_R_2, mode=Mode.SUBTRACT)
    # profile 9 of 12: a face of its own
    with BuildSketch(Plane(origin=(0, 1.2, 0), x_dir=(1, 0, 0), z_dir=(0, 1, 0)).offset(BOSS_EXTRUDE9_START)):
        with Locations(Location((11.16, -1.035, 0), (0, 0, 90))):
            Circle(SKETCH12_R)
        with Locations(Location((11.16, -1.035, 0), (0, 0, 270))):
            Circle(SKETCH12_R_2, mode=Mode.SUBTRACT)
    # profile 10 of 12: a face of its own
    with BuildSketch(Plane(origin=(0, 1.2, 0), x_dir=(1, 0, 0), z_dir=(0, 1, 0)).offset(BOSS_EXTRUDE9_START)):
        with Locations(Location((11.16, -3.575, 0), (0, 0, 90))):
            Circle(SKETCH12_R)
        with Locations(Location((11.16, -3.575, 0), (0, 0, 270))):
            Circle(SKETCH12_R_2, mode=Mode.SUBTRACT)
    # profile 11 of 12: a face of its own
    with BuildSketch(Plane(origin=(0, 1.2, 0), x_dir=(1, 0, 0), z_dir=(0, 1, 0)).offset(BOSS_EXTRUDE9_START)):
        with Locations(Location((13.7, -3.575, 0), (0, 0, 90))):
            Circle(SKETCH12_R)
        with Locations(Location((13.7, -3.575, 0), (0, 0, 270))):
            Circle(SKETCH12_R_2, mode=Mode.SUBTRACT)
    # profile 12 of 12: a face of its own
    with BuildSketch(Plane(origin=(0, 1.2, 0), x_dir=(1, 0, 0), z_dir=(0, 1, 0)).offset(BOSS_EXTRUDE9_START)):
        with Locations(Location((13.7, -1.035, 0), (0, 0, 90))):
            Circle(SKETCH12_R)
        with Locations(Location((13.7, -1.035, 0), (0, 0, 270))):
            Circle(SKETCH12_R_2, mode=Mode.SUBTRACT)
    boss_extrude9 = extrude(amount=-BOSS_EXTRUDE9_DEPTH)

    # Mirror1: Boss-Extrude9 across plane
    add(boss_extrude9.mirror(Plane.ZX.offset(0.6)))


solid = part.part
